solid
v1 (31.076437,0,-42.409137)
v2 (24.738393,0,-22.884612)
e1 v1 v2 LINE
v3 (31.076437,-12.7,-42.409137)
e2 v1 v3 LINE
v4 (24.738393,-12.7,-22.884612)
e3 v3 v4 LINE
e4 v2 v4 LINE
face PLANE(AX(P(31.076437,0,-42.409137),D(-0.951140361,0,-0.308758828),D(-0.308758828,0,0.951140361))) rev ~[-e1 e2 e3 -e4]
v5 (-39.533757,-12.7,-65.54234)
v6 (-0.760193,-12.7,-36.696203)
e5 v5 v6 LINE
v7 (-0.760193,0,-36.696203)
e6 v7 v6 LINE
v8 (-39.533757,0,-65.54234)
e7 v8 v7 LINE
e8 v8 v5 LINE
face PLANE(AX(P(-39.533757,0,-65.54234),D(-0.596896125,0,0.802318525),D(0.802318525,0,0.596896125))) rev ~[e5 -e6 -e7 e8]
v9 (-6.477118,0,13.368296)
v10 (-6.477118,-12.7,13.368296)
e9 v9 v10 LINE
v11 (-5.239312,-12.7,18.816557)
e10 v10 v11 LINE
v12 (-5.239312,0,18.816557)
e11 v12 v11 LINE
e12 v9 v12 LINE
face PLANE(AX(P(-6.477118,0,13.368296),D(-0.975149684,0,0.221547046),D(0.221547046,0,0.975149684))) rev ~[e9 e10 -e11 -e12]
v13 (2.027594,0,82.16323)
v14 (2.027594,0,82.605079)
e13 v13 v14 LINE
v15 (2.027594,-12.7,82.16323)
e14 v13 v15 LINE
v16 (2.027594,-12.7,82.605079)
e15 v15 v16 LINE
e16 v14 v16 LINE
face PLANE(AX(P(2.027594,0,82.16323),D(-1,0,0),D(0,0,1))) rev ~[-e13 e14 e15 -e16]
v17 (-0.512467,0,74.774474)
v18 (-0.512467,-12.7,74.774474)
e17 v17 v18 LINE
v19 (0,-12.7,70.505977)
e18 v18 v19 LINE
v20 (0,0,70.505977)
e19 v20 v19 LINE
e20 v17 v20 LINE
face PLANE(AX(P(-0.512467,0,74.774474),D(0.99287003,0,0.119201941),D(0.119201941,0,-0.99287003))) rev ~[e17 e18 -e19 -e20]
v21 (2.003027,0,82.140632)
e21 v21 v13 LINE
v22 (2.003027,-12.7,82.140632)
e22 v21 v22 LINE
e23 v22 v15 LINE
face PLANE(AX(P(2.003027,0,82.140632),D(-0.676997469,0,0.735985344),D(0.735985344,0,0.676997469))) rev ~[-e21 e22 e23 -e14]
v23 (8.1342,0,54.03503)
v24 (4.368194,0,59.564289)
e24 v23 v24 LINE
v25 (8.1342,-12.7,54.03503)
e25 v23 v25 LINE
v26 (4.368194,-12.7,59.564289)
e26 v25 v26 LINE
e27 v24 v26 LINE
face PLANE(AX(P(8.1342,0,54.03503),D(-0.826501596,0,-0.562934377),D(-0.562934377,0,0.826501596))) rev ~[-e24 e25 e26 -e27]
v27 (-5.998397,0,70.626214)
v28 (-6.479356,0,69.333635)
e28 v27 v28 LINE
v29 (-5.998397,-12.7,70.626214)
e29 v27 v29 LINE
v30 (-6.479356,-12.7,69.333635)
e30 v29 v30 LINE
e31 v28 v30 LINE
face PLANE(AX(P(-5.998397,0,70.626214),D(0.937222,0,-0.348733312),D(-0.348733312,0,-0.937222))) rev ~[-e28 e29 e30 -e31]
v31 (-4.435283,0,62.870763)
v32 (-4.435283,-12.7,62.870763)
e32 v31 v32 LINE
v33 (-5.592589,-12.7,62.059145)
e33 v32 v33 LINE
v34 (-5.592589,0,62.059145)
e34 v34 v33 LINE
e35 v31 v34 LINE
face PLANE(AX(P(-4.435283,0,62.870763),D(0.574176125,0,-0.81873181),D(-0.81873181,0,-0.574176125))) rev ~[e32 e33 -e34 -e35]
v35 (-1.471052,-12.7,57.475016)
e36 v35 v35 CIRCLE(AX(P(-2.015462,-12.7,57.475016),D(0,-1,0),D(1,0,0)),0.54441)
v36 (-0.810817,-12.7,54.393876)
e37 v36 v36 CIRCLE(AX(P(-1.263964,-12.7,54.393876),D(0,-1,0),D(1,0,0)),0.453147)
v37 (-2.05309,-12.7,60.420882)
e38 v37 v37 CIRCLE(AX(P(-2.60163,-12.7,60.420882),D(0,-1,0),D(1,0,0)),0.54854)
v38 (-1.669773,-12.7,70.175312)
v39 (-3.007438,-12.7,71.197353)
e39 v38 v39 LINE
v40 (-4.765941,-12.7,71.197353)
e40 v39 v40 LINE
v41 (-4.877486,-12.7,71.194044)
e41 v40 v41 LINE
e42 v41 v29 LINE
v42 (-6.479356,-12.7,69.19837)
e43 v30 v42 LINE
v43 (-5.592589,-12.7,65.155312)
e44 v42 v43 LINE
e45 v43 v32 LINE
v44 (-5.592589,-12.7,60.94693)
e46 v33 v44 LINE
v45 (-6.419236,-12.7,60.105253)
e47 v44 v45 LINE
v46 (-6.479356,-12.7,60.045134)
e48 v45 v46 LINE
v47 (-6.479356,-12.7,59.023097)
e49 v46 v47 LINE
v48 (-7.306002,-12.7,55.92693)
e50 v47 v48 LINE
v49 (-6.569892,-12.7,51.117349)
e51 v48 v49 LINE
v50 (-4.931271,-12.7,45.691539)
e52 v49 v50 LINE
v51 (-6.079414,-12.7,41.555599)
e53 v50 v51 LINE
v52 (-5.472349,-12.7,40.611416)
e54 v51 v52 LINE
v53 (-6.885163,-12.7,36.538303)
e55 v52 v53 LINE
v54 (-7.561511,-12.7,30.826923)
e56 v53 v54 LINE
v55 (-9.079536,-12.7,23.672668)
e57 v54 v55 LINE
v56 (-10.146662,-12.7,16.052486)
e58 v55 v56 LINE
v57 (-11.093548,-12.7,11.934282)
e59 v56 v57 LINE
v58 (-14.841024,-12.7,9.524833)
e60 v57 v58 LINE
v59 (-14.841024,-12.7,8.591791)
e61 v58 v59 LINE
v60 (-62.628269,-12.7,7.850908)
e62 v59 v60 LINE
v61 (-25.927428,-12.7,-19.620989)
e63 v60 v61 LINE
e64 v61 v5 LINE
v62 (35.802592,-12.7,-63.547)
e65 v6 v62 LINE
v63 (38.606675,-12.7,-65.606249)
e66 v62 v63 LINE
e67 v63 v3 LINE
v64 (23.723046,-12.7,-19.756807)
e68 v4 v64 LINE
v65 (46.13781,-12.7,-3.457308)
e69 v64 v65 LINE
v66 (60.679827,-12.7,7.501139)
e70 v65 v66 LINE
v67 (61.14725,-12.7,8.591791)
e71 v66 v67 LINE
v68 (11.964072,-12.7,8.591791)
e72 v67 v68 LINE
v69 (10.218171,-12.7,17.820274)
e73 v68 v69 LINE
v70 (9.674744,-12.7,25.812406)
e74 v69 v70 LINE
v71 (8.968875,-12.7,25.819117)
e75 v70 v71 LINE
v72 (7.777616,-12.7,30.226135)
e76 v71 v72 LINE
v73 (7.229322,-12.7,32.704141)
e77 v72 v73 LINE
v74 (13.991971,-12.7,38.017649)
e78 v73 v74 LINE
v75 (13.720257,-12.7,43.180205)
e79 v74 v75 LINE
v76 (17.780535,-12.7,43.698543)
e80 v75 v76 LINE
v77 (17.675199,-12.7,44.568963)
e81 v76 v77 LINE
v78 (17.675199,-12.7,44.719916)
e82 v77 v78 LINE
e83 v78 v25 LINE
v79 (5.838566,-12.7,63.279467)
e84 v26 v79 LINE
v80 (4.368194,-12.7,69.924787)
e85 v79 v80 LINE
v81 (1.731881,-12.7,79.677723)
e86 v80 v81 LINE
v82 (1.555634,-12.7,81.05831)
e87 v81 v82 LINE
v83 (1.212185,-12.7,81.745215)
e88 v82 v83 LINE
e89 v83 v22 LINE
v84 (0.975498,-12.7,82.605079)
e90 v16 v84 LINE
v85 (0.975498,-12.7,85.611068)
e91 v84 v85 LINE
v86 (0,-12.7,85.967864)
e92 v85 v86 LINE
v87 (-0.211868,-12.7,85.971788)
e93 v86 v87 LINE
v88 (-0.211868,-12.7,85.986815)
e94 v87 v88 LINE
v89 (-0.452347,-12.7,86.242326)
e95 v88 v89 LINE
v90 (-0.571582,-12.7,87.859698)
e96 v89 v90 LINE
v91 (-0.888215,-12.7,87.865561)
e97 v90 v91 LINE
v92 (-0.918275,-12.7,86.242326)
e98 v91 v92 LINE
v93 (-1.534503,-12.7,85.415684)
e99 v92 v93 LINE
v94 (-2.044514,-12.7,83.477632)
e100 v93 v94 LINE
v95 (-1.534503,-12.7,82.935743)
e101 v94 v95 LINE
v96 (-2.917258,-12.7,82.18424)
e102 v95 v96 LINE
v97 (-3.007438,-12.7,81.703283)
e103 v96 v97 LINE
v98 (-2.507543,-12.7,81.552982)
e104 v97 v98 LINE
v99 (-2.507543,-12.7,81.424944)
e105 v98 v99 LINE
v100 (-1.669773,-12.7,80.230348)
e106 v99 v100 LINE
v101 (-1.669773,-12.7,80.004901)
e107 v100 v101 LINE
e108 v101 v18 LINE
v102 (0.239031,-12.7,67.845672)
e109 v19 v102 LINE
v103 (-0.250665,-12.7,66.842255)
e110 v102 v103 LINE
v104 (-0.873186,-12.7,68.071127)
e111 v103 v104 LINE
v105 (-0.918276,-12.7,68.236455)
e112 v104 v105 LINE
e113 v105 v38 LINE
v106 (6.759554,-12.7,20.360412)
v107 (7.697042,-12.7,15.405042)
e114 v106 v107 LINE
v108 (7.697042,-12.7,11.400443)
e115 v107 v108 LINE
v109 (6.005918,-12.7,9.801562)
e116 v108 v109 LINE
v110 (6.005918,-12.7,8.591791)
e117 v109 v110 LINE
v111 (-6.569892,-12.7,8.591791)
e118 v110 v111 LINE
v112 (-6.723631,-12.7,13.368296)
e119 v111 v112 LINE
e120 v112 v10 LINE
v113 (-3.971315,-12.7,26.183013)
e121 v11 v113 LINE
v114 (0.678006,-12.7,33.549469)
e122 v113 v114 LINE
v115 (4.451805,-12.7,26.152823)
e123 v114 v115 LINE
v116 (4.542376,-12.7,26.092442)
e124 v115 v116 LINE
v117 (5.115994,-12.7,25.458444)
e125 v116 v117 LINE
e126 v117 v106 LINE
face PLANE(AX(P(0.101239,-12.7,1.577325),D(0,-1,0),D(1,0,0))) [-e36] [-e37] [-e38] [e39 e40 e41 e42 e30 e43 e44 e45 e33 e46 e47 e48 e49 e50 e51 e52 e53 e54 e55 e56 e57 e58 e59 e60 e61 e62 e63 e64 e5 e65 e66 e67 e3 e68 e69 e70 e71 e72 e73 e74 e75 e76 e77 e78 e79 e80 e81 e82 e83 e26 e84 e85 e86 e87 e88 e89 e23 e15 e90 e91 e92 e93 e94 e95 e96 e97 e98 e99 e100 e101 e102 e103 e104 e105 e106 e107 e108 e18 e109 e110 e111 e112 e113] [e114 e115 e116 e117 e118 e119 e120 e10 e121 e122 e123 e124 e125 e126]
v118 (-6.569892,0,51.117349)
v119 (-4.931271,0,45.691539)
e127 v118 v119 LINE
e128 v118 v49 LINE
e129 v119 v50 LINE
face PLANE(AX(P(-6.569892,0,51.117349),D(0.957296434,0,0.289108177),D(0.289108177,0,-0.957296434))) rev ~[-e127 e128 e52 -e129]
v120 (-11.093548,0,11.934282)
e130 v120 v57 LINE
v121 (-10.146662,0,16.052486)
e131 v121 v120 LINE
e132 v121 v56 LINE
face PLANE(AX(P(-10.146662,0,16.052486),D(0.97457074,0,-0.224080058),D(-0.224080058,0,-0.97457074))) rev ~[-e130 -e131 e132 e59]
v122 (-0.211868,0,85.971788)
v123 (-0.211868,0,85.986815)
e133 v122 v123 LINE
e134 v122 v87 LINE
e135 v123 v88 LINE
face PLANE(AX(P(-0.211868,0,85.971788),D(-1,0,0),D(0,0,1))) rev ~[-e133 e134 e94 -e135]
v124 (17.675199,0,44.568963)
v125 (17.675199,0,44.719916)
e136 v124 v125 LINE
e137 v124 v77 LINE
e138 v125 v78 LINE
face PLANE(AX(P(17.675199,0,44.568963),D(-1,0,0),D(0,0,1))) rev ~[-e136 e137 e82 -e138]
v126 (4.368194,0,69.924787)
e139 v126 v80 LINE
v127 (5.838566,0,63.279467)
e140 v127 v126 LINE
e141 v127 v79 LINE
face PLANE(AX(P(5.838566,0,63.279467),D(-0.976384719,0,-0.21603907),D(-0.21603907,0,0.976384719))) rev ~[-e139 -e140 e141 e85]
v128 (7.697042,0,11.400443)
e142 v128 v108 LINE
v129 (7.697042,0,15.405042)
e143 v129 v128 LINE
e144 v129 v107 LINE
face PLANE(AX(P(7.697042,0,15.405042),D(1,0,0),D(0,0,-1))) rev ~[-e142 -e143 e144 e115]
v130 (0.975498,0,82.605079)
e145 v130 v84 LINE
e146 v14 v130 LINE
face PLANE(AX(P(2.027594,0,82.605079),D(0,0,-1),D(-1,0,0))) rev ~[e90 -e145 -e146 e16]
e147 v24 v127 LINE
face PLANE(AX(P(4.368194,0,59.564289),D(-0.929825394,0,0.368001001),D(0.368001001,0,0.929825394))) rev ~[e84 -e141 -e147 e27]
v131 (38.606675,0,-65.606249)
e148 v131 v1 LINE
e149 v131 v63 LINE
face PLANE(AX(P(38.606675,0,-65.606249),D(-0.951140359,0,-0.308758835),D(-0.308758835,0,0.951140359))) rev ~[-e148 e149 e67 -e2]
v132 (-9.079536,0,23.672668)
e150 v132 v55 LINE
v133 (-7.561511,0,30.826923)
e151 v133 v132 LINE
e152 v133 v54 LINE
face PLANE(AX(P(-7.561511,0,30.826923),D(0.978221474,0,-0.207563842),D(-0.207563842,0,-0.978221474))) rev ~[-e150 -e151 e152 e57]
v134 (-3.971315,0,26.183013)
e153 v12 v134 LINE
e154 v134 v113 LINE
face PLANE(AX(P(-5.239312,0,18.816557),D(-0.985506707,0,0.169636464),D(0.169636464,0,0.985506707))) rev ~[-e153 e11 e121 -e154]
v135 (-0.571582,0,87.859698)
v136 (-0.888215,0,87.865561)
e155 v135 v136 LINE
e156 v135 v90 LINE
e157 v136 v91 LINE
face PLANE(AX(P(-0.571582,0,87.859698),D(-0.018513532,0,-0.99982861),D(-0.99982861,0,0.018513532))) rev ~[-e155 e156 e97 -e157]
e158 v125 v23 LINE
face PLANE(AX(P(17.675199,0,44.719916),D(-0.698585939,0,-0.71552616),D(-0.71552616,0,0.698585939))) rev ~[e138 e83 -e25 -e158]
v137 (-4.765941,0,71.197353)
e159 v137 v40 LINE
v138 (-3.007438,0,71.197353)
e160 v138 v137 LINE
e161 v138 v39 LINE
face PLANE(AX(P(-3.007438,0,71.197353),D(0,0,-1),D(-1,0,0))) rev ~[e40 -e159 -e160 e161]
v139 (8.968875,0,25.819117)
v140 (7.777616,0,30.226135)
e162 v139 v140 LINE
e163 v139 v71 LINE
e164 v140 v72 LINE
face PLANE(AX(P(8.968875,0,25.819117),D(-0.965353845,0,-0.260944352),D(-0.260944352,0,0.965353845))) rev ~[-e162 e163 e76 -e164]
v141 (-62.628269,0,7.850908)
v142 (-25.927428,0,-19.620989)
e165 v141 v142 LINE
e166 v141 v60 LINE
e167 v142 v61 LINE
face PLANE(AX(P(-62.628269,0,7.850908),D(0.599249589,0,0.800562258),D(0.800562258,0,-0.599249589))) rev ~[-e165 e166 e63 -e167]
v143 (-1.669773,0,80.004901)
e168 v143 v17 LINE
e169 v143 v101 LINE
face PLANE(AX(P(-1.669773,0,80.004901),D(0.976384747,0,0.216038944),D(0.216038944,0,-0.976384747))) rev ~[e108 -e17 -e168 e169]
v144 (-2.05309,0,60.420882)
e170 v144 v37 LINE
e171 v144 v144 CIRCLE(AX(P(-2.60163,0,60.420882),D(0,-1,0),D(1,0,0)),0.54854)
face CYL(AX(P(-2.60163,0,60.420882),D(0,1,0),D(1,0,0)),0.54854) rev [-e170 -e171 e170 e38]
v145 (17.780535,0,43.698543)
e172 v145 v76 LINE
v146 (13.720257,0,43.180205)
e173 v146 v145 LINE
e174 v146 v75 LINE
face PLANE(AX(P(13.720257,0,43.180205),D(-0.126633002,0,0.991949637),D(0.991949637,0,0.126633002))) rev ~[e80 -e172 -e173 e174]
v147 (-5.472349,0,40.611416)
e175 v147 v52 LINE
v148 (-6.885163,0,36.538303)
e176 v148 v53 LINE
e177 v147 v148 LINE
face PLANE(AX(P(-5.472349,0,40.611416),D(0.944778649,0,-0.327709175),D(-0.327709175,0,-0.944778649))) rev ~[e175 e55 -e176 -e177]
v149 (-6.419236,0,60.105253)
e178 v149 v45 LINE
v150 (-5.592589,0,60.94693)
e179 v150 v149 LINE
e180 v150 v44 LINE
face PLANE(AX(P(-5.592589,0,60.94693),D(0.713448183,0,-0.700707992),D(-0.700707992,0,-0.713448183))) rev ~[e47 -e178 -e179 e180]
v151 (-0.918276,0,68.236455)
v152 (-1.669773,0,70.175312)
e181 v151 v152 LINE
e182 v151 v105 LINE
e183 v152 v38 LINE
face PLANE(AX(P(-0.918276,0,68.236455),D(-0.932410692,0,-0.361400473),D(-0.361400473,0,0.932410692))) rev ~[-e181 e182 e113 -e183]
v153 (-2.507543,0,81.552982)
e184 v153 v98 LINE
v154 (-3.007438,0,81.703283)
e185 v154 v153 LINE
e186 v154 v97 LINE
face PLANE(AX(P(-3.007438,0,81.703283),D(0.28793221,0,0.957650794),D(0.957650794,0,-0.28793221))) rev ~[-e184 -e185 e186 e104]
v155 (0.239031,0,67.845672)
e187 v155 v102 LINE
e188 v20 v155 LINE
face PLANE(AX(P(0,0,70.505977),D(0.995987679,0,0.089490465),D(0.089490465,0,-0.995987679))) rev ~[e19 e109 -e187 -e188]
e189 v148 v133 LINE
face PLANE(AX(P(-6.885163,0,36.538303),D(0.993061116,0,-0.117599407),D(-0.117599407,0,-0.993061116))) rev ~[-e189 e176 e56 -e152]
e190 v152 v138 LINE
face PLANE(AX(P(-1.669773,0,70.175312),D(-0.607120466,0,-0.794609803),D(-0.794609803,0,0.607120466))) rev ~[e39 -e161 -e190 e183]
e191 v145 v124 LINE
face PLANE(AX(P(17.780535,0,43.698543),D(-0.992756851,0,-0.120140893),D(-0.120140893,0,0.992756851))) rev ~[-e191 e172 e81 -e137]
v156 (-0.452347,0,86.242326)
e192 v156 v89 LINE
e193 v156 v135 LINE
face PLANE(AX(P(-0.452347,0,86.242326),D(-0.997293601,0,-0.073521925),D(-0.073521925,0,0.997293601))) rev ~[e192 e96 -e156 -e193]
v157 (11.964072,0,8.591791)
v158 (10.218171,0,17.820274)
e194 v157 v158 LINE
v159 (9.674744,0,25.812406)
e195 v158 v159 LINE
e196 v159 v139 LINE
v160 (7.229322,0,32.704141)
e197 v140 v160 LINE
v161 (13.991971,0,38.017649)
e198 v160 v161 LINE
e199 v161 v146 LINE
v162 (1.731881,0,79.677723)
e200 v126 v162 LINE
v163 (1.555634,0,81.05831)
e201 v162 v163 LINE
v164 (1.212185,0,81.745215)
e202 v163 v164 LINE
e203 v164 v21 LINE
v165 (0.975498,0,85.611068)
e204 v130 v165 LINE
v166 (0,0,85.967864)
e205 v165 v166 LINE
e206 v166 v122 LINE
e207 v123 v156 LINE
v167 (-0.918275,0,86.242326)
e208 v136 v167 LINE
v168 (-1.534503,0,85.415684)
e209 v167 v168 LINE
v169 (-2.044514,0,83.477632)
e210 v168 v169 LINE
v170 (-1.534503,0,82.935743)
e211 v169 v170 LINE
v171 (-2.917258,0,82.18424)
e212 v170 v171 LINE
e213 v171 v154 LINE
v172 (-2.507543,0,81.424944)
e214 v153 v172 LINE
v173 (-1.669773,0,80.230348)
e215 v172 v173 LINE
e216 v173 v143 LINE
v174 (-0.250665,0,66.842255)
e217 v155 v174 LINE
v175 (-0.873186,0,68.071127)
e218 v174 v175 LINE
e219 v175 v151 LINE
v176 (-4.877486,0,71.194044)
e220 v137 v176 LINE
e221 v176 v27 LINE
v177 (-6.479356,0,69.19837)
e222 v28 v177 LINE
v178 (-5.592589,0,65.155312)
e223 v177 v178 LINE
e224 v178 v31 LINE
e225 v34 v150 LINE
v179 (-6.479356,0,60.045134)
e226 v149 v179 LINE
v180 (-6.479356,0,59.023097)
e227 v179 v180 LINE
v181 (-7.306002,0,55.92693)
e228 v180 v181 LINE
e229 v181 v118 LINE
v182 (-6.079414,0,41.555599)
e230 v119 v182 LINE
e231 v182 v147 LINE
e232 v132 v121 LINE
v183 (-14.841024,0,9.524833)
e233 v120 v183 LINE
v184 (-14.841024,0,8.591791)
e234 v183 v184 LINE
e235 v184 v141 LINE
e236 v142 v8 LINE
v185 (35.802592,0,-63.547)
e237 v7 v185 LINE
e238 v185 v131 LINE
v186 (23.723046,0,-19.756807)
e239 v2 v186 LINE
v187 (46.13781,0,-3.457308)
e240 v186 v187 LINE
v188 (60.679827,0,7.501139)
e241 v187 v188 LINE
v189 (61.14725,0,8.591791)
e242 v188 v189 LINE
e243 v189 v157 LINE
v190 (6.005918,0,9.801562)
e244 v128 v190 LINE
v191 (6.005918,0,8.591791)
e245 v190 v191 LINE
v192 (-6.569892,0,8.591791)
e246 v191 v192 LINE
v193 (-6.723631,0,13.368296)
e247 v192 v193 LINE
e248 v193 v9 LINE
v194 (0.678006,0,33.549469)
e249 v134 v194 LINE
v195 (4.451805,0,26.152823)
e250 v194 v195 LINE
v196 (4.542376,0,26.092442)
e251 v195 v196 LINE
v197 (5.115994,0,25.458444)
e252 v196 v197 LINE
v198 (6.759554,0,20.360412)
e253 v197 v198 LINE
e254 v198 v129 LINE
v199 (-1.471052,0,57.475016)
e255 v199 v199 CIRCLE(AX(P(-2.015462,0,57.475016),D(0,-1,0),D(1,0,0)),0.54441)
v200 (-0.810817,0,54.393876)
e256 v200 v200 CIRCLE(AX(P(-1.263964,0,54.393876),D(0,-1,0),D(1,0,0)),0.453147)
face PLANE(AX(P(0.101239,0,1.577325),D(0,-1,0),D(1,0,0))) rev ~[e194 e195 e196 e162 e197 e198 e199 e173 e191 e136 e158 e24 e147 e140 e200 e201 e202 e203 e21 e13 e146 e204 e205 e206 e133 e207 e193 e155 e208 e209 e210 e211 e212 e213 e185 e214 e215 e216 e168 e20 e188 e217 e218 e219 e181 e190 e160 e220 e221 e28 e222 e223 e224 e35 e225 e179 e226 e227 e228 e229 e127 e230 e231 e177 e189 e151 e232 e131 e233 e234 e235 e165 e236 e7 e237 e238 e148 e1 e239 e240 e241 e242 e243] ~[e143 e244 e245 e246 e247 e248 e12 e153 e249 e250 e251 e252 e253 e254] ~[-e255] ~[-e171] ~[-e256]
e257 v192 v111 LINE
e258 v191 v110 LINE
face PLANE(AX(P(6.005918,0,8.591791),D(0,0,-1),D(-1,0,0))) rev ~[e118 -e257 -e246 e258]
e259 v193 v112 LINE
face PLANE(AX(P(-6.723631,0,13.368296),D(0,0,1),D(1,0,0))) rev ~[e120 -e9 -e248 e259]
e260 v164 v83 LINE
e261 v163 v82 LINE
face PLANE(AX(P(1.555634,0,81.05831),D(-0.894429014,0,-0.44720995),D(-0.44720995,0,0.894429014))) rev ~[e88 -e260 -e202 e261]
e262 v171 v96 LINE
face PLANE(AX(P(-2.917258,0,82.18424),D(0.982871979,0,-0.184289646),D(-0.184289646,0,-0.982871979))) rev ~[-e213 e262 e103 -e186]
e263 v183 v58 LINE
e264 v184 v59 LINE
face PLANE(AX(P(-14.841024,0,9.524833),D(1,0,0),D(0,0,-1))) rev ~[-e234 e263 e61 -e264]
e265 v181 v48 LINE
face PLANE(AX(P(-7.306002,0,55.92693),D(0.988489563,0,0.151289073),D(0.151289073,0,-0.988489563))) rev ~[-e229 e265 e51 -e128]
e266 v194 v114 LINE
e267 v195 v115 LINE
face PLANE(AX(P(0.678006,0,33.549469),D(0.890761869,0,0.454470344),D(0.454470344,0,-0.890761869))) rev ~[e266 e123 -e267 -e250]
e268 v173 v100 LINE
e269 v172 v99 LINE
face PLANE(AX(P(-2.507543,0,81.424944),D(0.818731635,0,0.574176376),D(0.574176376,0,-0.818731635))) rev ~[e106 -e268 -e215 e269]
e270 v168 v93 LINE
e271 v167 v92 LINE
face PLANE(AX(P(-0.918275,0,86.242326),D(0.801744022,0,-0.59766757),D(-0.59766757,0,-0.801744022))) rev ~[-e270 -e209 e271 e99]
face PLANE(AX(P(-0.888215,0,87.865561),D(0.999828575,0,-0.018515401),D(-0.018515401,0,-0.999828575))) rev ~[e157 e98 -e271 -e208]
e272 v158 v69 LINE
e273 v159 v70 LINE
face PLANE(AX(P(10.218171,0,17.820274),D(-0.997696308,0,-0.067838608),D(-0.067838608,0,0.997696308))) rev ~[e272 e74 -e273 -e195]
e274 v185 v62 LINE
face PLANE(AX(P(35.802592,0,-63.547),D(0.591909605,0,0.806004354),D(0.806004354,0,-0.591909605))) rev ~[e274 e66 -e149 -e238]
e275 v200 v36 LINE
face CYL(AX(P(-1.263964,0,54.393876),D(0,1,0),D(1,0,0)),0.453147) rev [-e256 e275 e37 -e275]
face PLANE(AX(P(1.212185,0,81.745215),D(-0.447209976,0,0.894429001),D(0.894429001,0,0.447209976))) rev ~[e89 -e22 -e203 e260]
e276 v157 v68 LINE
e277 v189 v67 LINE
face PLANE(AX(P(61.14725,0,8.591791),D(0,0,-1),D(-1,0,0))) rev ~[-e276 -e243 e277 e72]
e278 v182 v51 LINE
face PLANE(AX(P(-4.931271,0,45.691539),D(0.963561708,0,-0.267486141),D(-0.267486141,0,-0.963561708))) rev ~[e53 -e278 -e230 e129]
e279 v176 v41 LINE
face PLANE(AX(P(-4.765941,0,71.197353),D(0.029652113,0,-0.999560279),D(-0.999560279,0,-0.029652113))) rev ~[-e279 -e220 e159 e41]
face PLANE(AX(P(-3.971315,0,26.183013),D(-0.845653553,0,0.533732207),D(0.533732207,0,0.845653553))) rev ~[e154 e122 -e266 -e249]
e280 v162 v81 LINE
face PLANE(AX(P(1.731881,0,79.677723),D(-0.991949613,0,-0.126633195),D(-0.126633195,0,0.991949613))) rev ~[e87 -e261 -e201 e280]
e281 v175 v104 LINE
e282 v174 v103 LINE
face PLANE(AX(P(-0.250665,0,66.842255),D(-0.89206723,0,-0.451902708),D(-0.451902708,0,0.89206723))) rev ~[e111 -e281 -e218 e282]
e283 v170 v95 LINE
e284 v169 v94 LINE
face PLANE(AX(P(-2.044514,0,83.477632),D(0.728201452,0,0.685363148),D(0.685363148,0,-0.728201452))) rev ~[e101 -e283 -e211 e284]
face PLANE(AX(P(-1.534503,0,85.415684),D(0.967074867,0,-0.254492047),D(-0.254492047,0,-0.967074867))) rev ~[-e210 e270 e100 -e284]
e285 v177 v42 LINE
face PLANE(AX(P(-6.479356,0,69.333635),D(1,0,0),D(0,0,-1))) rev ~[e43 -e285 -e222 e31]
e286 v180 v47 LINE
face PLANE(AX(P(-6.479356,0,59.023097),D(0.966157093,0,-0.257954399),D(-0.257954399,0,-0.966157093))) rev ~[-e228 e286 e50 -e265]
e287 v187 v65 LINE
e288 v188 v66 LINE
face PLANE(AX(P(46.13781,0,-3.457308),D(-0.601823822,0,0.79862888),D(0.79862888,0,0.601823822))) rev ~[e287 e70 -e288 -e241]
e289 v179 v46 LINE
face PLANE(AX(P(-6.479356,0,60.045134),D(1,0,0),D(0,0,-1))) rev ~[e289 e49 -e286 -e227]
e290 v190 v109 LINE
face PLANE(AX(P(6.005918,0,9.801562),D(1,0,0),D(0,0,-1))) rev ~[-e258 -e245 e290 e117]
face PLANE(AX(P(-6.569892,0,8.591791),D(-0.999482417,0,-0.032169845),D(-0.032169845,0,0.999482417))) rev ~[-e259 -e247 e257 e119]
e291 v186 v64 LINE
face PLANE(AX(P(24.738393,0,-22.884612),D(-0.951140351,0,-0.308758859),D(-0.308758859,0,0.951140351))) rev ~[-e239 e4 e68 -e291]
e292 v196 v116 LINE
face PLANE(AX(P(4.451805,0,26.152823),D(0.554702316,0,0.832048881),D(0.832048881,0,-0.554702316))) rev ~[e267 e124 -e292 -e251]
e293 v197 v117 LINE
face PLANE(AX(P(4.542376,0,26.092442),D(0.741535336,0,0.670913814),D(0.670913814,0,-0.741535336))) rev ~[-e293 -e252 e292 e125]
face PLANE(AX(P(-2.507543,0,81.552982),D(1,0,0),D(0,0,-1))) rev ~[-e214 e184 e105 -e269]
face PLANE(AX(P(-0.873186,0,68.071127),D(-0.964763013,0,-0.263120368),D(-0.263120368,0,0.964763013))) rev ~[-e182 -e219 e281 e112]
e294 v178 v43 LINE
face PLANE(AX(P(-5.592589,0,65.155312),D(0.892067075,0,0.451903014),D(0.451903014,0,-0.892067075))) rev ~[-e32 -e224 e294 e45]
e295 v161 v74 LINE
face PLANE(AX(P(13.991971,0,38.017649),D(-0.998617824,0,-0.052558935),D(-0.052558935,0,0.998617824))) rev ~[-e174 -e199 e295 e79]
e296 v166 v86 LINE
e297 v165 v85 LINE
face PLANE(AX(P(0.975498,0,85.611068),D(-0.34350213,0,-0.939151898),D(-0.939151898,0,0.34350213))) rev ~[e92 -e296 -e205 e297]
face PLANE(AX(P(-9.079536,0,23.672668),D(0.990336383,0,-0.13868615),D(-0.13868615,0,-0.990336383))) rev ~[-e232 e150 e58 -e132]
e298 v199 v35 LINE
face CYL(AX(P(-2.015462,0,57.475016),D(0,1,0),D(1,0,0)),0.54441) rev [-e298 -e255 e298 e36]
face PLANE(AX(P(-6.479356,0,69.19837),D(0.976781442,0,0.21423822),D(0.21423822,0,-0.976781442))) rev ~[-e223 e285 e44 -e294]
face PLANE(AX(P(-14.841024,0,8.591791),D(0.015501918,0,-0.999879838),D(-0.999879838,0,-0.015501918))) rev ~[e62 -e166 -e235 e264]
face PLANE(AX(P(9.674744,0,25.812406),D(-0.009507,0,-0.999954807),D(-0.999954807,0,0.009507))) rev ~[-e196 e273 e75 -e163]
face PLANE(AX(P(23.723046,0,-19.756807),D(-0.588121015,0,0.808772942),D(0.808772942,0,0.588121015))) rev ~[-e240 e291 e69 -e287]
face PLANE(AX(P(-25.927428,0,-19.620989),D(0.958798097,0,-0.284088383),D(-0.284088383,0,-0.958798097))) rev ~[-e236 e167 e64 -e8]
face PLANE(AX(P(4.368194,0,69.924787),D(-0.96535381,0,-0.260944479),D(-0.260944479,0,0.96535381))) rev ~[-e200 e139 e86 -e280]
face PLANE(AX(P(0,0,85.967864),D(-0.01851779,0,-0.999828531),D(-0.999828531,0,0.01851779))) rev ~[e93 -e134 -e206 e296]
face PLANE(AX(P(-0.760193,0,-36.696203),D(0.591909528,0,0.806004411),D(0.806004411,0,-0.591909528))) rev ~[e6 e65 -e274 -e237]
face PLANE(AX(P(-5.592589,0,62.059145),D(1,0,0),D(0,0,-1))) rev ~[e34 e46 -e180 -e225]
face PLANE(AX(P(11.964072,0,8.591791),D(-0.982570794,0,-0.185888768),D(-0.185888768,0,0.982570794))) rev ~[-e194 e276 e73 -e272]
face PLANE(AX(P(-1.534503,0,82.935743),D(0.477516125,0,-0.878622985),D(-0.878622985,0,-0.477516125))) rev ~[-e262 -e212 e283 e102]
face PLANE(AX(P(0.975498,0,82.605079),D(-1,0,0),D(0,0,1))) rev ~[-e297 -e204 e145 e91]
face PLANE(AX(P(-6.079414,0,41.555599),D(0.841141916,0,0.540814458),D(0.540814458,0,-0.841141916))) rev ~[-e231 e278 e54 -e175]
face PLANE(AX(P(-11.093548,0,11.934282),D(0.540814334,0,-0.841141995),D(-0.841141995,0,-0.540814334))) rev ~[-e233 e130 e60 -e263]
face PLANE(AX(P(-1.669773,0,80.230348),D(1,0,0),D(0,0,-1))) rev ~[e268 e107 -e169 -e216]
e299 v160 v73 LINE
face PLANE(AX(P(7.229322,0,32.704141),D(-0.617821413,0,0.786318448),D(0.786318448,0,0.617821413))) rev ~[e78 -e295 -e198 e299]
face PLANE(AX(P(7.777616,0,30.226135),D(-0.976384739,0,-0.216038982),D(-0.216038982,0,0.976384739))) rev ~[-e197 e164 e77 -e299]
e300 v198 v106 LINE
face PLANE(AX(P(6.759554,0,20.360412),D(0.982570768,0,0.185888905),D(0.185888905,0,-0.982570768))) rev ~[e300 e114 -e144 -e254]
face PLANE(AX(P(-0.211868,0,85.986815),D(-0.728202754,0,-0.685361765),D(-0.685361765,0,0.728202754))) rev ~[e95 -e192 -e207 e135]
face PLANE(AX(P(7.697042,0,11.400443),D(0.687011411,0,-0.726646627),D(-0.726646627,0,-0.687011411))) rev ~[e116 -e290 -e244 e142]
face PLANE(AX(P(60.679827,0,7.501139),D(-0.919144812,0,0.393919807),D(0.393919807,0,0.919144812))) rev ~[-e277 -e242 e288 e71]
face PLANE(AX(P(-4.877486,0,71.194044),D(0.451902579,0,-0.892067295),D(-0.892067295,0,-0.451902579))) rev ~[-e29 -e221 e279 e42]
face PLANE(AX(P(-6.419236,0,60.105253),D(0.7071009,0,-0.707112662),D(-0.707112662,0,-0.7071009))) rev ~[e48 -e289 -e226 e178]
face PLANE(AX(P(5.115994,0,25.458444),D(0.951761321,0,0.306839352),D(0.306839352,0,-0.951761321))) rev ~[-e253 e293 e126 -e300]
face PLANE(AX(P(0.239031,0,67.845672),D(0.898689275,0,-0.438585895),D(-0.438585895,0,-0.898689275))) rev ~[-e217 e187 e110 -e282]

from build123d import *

# Parameters (mm, degrees)
F0_R     = 0.453147
F0_R_2   = 0.54441
F0_R_3   = 0.54854
F1_DEPTH = 12.7


with BuildPart() as f1:
    # F0 (on Front) → F1 (new body)
    with BuildSketch(Plane.XZ):
        Polygon((-39.533757, -65.54234), (-0.760193, -36.696203), (35.802592, -63.547), (38.606675, -65.606249), (31.076437, -42.409137), (24.738393, -22.884612), (23.723046, -19.756807), (46.13781, -3.457308), (60.679827, 7.501139), (61.14725, 8.591791), (11.964072, 8.591791), (10.218171, 17.820274), (9.674744, 25.812406), (8.968875, 25.819117), (7.777616, 30.226135), (7.229322, 32.704141), (13.991971, 38.017649), (13.720257, 43.180205), (17.780535, 43.698543), (17.675199, 44.568963), (17.675199, 44.719916), (8.1342, 54.03503), (4.368194, 59.564289), (5.838566, 63.279467), (4.368194, 69.924787), (1.731881, 79.677723), (1.555634, 81.05831), (1.212185, 81.745215), (2.003027, 82.140632), (2.027594, 82.16323), (2.027594, 82.605079), (0.975498, 82.605079), (0.975498, 85.611068), (0, 85.967864), (-0.211868, 85.971788), (-0.211868, 85.986815), (-0.452347, 86.242326), (-0.571582, 87.859698), (-0.888215, 87.865561), (-0.918275, 86.242326), (-1.534503, 85.415684), (-2.044514, 83.477632), (-1.534503, 82.935743), (-2.917258, 82.18424), (-3.007438, 81.703283), (-2.507543, 81.552982), (-2.507543, 81.424944), (-1.669773, 80.230348), (-1.669773, 80.004901), (-0.512467, 74.774474), (0, 70.505977), (0.239031, 67.845672), (-0.250665, 66.842255), (-0.873186, 68.071127), (-0.918276, 68.236455), (-1.669773, 70.175312), (-3.007438, 71.197353), (-4.765941, 71.197353), (-4.877486, 71.194044), (-5.998397, 70.626214), (-6.479356, 69.333635), (-6.479356, 69.19837), (-5.592589, 65.155312), (-4.435283, 62.870763), (-5.592589, 62.059145), (-5.592589, 61.938908), (-5.592589, 60.94693), (-6.419236, 60.105253), (-6.479356, 60.045134), (-6.479356, 59.023097), (-7.306002, 55.92693), (-6.569892, 51.117349), (-4.931271, 45.691539), (-6.079414, 41.555599), (-5.472349, 40.611416), (-6.885163, 36.538303), (-7.561511, 30.826923), (-9.079536, 23.672668), (-10.146662, 16.052486), (-11.093548, 11.934282), (-14.841024, 9.524833), (-14.841024, 8.591791), (-62.628269, 7.850908), (-25.927428, -19.620989), align=None)
        with Locations((-1.263964, 54.393876)):
            Circle(F0_R, mode=Mode.SUBTRACT)
        with Locations((-2.015462, 57.475016)):
            Circle(F0_R_2, mode=Mode.SUBTRACT)
        with Locations((-2.60163, 60.420882)):
            Circle(F0_R_3, mode=Mode.SUBTRACT)
        Polygon((6.005918, 9.801562), (6.005918, 8.591791), (-6.569892, 8.591791), (-6.723631, 13.368296), (-6.477118, 13.368296), (-5.239312, 18.816557), (-3.971315, 26.183013), (0.678006, 33.549469), (4.451805, 26.152823), (4.542376, 26.092442), (5.115994, 25.458444), (6.759554, 20.360412), (7.697042, 15.405042), (7.697042, 11.400443), align=None, mode=Mode.SUBTRACT)
    extrude(amount=F1_DEPTH)


solid = f1.part
